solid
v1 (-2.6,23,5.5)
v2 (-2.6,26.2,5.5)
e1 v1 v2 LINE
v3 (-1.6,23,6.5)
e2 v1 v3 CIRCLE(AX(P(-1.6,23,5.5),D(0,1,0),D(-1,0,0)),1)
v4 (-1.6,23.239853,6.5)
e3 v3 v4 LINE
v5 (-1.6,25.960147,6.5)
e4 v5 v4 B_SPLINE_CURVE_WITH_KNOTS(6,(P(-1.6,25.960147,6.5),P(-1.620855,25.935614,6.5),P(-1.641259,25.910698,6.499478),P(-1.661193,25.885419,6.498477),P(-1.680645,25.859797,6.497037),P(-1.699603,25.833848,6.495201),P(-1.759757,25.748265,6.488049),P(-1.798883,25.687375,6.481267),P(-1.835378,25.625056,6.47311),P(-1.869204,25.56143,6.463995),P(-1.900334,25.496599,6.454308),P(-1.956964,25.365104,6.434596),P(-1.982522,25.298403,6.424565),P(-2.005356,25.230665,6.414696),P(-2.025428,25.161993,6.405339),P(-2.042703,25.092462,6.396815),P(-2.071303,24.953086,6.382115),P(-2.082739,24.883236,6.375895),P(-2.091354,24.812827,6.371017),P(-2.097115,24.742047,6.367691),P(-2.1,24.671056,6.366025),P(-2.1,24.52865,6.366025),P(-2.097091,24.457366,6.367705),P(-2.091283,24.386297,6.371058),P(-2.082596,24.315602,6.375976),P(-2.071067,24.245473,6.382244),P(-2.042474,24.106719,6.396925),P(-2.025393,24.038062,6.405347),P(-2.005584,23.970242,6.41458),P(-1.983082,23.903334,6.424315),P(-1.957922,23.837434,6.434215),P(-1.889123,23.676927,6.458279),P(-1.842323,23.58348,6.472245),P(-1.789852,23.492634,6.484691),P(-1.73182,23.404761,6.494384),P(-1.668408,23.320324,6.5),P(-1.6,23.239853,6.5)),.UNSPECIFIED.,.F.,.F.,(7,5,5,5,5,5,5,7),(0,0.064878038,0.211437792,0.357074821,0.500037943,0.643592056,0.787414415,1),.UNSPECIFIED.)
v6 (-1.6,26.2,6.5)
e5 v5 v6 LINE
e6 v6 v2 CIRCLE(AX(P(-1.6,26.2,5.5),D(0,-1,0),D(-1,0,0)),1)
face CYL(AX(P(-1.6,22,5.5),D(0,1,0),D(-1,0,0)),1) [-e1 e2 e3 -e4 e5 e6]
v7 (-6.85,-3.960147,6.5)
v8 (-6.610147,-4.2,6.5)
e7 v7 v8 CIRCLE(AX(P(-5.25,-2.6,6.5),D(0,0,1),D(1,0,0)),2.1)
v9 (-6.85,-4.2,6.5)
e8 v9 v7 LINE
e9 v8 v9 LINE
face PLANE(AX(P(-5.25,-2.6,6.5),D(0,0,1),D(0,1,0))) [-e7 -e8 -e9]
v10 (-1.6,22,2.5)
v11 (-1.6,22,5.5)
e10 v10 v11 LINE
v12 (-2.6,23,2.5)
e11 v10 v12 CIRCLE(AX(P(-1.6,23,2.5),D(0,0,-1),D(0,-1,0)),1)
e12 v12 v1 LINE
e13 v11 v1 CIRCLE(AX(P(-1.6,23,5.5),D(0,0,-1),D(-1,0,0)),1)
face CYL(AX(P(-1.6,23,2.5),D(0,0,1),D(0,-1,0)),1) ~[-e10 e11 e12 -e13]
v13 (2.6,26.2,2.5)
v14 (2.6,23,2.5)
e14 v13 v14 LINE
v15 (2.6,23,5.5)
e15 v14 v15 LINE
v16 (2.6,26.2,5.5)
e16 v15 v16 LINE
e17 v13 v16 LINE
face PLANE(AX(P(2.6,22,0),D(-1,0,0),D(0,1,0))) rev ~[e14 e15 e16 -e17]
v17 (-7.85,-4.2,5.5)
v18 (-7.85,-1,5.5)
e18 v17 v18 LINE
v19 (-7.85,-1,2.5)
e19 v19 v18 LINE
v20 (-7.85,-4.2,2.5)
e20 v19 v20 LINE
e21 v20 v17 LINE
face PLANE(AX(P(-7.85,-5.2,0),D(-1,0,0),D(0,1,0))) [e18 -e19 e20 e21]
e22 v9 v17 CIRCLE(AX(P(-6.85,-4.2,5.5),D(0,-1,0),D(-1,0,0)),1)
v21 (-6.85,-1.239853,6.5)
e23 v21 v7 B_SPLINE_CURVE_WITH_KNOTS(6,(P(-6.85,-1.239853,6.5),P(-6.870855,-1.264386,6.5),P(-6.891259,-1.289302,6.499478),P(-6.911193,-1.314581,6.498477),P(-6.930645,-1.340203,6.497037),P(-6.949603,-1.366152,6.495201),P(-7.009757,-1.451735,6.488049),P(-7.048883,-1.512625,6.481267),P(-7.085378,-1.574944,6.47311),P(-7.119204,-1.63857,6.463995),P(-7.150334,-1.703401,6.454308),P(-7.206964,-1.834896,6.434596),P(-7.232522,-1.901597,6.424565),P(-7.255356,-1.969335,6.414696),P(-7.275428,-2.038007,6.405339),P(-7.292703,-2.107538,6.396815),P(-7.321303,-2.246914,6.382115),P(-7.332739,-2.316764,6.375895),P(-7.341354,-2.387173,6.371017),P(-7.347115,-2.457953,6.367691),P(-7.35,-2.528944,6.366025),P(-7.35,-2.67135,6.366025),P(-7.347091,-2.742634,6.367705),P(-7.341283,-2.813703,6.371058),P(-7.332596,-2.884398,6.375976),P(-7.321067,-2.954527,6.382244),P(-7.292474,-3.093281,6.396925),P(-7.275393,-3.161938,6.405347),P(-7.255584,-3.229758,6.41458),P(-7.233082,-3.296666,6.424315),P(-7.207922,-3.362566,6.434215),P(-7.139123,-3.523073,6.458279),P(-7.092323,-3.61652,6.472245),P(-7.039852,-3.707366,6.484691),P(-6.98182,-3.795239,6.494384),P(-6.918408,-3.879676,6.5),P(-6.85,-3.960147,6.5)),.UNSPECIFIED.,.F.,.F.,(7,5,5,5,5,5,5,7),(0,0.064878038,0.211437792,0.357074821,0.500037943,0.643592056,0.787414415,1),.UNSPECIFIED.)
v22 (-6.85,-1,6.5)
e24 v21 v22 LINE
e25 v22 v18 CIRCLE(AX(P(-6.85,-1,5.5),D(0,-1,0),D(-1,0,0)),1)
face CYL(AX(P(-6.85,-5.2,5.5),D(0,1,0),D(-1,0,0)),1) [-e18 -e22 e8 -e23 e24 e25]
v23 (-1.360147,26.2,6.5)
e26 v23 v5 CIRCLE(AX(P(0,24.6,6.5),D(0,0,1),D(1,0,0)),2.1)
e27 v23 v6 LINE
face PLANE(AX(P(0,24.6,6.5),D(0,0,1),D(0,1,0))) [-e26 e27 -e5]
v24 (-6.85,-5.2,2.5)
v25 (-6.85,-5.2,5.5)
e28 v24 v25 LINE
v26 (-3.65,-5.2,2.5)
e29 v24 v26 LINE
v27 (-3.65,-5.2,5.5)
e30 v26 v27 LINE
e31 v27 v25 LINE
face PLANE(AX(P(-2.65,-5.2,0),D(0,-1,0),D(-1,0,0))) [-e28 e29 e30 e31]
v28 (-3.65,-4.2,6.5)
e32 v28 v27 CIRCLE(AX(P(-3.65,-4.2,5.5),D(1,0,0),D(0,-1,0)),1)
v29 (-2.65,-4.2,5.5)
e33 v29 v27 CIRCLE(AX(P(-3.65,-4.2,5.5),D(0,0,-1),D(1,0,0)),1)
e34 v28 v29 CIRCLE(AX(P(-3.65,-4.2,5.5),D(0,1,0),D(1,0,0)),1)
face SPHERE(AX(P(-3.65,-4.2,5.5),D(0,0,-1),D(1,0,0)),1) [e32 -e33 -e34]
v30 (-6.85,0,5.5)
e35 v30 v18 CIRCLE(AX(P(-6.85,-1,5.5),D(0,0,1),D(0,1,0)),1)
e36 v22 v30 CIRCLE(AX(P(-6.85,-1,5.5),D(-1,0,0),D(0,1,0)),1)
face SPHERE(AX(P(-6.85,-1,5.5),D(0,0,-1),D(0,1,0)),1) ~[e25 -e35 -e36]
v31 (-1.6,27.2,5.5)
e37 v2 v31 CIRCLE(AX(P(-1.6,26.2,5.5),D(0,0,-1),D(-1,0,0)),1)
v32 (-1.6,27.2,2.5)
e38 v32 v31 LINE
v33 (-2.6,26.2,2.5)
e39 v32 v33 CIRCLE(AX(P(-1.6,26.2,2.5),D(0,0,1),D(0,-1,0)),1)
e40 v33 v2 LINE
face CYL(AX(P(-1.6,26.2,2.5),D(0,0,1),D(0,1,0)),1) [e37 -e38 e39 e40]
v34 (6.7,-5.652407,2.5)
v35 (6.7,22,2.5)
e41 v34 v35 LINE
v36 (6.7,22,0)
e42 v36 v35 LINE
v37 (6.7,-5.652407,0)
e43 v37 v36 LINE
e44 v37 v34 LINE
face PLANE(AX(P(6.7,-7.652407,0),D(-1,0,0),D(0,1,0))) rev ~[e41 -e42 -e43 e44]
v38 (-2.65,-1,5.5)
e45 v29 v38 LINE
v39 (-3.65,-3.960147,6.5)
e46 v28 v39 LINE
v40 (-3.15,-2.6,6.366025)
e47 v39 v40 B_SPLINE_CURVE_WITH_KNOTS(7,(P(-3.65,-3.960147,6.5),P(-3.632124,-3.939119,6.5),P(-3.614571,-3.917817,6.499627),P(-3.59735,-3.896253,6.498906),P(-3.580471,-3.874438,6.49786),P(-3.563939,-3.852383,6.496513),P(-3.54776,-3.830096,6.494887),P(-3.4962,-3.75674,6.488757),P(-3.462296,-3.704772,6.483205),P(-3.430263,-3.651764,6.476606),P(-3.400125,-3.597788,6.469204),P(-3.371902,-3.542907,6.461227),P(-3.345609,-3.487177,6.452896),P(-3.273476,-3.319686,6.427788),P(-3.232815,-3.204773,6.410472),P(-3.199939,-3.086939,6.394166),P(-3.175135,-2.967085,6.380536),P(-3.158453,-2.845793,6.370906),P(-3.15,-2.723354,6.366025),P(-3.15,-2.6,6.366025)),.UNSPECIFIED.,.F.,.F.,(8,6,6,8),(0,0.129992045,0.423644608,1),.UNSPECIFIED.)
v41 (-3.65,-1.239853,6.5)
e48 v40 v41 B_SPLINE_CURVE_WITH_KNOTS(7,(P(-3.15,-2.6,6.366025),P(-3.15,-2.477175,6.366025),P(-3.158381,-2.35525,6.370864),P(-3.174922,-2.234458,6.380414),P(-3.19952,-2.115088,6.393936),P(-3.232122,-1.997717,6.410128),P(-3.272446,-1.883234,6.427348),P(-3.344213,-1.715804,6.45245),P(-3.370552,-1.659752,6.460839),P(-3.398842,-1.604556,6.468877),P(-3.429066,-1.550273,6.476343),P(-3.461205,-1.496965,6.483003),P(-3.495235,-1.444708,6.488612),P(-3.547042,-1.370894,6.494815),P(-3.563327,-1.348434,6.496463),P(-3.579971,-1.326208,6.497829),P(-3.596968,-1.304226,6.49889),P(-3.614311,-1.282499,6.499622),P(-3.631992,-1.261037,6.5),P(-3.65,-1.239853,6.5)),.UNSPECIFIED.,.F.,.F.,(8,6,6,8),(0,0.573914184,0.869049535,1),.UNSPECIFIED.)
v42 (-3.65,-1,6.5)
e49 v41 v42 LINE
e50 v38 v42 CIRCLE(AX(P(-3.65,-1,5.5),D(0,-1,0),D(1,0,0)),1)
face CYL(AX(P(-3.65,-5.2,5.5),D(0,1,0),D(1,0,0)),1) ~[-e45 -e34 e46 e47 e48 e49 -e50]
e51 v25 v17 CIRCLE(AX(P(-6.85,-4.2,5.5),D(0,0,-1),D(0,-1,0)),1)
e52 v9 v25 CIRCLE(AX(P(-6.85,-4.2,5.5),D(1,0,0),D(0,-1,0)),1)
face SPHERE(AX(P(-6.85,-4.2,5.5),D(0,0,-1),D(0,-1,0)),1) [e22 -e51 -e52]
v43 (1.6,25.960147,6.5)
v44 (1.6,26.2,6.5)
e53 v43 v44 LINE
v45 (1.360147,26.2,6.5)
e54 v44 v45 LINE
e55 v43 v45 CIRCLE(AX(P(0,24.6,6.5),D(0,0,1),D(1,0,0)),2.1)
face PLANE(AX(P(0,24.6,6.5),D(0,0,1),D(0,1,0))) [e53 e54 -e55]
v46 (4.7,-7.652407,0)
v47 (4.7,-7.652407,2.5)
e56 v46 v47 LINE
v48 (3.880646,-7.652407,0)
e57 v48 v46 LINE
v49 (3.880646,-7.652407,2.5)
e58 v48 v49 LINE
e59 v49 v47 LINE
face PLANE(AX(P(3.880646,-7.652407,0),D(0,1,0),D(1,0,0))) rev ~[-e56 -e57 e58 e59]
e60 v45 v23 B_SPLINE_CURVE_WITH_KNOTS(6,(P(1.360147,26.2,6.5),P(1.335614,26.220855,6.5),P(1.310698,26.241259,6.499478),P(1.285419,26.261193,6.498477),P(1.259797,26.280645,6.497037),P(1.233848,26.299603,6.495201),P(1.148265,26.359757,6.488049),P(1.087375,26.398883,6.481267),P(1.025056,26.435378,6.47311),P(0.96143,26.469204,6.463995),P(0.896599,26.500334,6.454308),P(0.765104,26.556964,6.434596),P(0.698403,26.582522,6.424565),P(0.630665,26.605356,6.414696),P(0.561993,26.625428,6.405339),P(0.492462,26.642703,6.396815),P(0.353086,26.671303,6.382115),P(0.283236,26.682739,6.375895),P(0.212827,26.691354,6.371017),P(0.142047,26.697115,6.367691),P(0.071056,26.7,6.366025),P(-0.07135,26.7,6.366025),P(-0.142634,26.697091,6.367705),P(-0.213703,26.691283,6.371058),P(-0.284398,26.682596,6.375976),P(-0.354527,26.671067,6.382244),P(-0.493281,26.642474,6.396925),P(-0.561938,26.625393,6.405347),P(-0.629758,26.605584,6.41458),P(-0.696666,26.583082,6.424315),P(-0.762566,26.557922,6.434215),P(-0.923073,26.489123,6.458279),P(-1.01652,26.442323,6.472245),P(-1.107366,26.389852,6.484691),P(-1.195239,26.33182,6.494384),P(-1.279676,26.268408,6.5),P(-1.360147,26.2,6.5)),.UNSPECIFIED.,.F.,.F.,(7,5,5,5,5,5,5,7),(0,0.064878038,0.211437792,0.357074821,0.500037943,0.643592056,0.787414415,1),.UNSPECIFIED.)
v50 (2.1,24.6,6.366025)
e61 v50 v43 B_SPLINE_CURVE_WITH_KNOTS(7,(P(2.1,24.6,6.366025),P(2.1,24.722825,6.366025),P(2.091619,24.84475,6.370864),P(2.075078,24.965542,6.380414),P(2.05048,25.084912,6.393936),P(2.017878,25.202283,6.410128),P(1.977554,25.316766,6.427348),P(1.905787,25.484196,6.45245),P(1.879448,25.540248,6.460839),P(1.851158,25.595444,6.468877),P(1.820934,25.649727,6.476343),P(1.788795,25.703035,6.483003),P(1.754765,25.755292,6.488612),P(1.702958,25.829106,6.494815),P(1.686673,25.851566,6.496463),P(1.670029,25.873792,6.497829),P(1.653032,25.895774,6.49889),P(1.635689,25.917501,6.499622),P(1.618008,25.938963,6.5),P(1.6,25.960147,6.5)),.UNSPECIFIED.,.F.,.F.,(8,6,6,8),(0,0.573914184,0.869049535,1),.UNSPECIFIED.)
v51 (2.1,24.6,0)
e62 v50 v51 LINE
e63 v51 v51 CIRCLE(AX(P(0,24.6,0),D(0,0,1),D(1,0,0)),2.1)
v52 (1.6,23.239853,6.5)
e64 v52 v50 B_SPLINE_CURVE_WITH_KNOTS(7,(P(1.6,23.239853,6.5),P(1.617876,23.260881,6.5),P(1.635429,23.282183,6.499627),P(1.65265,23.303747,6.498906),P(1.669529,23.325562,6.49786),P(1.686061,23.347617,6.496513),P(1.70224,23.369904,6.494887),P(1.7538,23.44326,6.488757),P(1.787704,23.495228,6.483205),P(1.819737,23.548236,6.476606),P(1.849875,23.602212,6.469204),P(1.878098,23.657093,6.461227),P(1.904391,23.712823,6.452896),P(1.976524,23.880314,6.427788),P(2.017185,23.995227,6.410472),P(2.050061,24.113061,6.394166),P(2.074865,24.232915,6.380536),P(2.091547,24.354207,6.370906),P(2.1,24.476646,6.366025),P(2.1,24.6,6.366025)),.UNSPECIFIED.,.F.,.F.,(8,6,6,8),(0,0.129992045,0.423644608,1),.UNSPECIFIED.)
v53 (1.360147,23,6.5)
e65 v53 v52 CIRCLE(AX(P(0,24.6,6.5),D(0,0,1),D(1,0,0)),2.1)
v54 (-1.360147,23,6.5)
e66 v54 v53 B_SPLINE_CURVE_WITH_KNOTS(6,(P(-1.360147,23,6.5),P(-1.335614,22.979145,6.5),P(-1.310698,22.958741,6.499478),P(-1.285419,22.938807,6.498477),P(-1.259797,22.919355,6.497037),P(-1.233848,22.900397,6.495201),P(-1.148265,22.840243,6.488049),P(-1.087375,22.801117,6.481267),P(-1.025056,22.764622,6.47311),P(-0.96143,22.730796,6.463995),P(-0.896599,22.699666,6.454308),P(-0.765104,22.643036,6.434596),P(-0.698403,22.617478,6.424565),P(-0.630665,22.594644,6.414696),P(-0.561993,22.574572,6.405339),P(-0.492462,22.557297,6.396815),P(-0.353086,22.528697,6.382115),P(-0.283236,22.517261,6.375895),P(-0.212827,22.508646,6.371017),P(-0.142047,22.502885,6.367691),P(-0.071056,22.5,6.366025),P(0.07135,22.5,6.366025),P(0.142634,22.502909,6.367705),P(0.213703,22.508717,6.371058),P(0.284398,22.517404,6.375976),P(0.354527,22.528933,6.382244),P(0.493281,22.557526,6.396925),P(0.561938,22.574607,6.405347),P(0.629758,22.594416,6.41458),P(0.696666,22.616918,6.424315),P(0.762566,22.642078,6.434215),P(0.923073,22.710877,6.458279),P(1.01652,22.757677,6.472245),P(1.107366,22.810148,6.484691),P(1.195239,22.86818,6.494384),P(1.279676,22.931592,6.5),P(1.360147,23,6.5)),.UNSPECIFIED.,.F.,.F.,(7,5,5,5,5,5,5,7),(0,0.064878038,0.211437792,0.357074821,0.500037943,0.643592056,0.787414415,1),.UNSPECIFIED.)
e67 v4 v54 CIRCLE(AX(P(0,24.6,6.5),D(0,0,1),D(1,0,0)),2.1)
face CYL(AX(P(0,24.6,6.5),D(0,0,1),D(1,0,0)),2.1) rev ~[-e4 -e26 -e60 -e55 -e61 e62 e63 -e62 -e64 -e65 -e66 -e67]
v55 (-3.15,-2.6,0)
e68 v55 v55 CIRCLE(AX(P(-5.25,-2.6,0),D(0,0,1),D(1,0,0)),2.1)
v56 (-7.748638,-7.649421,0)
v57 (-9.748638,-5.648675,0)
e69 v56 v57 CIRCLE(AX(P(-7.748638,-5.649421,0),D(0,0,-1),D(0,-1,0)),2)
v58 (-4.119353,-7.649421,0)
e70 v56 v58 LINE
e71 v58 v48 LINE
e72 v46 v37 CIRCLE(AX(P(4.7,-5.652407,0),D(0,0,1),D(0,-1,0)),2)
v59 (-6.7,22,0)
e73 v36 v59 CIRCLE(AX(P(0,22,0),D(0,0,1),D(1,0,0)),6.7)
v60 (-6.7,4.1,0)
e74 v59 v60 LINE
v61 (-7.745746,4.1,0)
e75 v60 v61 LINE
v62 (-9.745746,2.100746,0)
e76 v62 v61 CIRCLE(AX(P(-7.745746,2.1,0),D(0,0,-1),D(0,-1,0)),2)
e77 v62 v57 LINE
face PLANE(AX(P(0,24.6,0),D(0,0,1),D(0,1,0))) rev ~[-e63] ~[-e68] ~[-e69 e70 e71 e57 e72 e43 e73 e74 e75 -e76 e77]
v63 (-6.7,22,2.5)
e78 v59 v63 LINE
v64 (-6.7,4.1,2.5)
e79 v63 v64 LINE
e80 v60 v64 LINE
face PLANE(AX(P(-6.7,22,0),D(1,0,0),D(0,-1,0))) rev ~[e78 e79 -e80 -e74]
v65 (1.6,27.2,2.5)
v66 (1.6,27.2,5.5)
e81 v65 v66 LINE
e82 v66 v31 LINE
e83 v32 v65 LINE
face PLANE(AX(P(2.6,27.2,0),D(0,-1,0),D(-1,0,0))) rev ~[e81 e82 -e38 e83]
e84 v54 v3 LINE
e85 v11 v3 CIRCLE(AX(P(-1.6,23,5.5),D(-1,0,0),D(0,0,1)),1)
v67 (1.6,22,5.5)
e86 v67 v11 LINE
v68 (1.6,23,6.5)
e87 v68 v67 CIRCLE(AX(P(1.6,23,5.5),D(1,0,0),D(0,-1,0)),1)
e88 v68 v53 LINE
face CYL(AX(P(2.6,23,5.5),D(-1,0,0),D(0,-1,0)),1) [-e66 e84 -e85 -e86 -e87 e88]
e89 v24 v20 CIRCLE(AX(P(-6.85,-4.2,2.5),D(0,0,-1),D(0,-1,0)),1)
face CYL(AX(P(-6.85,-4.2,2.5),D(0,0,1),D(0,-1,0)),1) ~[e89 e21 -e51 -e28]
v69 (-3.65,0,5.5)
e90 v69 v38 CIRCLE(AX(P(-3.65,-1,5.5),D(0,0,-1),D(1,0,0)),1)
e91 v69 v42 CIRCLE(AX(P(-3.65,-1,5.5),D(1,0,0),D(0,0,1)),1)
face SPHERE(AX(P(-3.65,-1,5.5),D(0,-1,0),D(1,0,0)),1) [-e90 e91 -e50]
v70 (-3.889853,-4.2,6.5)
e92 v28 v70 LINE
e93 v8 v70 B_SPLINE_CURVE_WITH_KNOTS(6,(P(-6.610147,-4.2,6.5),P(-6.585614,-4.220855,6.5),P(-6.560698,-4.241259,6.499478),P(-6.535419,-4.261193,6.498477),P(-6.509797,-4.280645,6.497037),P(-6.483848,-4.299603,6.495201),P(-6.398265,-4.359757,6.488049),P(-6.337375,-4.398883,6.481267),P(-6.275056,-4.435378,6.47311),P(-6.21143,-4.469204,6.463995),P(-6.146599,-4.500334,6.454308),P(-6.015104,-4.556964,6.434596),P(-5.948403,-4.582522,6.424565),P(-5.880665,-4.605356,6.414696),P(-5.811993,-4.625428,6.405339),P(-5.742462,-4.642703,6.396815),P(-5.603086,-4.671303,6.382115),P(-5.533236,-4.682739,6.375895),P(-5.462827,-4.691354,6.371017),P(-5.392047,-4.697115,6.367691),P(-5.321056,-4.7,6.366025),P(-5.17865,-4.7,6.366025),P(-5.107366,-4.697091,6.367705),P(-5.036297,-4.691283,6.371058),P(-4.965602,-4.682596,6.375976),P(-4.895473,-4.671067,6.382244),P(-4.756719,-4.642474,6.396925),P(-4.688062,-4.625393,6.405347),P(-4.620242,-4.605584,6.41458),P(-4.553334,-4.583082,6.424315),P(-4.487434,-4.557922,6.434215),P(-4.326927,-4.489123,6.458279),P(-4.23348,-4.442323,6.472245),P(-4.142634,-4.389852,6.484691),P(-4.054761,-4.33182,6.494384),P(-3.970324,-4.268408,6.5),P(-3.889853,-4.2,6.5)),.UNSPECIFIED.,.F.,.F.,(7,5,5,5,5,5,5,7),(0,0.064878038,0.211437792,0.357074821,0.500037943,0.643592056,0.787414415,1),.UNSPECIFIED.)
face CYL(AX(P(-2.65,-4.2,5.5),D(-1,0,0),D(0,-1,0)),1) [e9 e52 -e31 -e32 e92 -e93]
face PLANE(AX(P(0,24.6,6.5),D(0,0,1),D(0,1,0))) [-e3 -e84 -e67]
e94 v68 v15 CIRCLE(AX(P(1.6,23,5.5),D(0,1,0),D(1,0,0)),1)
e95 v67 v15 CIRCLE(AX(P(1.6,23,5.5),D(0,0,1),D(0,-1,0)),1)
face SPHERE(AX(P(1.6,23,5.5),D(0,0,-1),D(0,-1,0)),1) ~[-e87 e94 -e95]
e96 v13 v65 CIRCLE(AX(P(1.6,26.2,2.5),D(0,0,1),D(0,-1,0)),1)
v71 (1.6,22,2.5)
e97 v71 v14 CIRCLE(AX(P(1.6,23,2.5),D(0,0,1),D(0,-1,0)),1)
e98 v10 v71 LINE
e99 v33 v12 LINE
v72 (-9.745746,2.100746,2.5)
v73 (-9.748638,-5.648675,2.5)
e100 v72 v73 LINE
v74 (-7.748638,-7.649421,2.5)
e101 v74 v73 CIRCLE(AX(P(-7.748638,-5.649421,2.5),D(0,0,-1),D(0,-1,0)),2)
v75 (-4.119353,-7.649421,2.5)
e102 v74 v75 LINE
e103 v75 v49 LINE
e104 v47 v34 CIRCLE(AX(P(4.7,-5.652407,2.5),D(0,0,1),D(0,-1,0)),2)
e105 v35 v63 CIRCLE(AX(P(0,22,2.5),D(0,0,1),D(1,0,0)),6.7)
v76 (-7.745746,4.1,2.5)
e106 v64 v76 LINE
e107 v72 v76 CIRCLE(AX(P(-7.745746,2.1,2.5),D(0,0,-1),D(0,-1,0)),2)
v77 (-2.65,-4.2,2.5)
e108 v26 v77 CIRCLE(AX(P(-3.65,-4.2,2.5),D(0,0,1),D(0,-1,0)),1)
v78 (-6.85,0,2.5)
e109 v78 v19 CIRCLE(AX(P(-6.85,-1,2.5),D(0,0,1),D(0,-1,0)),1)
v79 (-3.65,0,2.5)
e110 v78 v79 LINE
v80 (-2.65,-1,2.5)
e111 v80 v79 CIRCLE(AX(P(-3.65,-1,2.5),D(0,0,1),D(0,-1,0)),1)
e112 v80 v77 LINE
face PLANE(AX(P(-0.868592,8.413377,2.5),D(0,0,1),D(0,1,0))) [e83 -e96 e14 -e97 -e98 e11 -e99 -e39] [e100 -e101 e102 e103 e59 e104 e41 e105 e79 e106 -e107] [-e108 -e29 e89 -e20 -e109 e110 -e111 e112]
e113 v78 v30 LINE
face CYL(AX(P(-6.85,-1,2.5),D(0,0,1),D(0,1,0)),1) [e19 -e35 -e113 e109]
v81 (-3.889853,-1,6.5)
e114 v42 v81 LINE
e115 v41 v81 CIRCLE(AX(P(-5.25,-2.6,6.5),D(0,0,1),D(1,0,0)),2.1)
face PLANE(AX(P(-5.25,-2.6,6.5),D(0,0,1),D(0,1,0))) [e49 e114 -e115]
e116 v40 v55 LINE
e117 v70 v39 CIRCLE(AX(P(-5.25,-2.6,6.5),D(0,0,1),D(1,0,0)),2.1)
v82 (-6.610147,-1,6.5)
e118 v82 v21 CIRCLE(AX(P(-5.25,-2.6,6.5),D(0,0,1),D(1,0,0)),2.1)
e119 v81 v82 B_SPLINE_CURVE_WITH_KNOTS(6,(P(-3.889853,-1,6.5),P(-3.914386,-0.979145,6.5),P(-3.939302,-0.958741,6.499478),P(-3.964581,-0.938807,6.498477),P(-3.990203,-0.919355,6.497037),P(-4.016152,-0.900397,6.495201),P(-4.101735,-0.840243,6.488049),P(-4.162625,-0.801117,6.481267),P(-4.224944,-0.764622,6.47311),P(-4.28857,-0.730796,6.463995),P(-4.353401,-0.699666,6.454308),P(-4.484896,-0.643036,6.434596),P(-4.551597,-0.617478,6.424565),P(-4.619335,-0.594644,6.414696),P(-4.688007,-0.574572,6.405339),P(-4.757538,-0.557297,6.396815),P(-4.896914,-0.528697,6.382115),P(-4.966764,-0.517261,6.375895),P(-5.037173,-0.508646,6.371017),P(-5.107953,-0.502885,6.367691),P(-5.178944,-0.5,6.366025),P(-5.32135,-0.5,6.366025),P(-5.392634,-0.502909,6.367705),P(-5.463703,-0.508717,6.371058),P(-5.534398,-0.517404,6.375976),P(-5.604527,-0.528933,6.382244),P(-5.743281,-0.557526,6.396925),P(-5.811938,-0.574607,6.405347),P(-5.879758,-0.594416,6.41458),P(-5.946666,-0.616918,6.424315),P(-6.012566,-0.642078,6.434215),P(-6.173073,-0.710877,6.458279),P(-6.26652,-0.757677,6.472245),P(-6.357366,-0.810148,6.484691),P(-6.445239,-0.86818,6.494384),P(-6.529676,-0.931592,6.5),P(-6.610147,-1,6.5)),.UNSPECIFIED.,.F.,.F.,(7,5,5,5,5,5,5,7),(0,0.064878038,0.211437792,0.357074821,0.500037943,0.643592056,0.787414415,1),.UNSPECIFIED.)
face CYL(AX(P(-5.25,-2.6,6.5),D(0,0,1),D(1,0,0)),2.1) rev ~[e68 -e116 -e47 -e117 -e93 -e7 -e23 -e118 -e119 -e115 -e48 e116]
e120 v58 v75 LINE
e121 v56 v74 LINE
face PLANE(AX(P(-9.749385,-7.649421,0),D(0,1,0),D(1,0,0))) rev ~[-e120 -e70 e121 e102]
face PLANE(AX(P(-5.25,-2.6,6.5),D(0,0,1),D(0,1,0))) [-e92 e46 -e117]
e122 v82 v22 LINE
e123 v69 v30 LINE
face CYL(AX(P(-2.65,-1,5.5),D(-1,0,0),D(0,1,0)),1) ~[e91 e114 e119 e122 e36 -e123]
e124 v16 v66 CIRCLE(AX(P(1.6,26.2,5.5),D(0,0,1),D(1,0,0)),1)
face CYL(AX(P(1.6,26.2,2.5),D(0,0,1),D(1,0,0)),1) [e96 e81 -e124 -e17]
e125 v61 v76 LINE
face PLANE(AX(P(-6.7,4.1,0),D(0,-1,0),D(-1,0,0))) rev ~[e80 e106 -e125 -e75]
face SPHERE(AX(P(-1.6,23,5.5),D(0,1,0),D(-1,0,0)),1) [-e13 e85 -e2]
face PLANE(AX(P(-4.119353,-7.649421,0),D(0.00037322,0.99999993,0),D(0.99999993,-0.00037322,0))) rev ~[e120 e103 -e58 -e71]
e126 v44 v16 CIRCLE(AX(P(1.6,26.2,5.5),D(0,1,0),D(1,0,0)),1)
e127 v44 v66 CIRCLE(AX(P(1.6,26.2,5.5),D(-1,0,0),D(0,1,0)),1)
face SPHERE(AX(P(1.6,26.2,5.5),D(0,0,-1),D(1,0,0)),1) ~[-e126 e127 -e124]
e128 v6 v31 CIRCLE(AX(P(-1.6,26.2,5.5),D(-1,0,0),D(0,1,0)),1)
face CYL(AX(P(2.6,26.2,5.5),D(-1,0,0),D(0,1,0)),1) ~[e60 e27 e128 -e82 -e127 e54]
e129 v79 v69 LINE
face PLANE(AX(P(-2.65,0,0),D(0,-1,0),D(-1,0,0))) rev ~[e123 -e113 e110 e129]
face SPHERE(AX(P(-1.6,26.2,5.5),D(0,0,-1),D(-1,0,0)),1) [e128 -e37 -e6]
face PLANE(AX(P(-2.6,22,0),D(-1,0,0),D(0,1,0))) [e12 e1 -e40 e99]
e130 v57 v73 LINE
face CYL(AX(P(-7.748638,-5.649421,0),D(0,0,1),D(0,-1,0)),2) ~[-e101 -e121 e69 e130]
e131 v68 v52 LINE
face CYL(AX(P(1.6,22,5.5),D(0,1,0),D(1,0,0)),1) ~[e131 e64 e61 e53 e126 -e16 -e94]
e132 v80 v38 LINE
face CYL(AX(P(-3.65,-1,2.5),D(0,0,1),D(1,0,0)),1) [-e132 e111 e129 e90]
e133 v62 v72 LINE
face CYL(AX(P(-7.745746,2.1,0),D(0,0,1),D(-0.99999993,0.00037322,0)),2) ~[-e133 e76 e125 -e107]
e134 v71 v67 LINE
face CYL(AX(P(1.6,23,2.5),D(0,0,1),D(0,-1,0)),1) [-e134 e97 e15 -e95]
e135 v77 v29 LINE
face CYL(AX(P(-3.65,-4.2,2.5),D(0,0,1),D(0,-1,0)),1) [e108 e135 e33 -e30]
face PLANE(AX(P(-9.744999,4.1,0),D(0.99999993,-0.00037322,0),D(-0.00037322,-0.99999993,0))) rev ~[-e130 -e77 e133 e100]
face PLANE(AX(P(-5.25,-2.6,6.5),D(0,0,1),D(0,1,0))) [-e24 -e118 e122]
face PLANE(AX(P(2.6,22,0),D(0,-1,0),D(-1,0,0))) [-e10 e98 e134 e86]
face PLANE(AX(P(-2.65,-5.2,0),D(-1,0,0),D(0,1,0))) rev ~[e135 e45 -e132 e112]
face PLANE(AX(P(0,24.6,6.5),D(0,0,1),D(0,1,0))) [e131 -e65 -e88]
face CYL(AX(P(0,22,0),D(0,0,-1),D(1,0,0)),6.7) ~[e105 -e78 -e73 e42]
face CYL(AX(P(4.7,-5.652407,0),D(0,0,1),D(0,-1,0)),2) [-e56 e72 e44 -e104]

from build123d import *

# Parameters (mm, degrees)
BOSS_EXTRUDE1_DEPTH = 2.5
SKETCH1_3_W         = 5.2
SKETCH1_3_H         = 5.2
BOSS_EXTRUDE2_DEPTH = 6.5
FILLET1_R           = 2
FILLET2_R           = 1
SKETCH2_R           = 2.1
CUT_EXTRUDE1_DEPTH  = 7.5


with BuildPart() as part:
    # Sketch1 → Boss-Extrude1 (new body)
    with BuildSketch(Plane(origin=(0, 0, 0), x_dir=(0, 1, 0), z_dir=(0, 0, 1))):
        with BuildLine():
            Line((-7.649421348, 9.749384529), (-7.649421348, 4.119353309))
            Line((-7.649421348, 4.119353309), (-7.652407104, -3.880646133))
            Line((-7.652407104, -3.880646133), (-7.652407104, -6.7))
            Line((-7.652407104, -6.7), (22, -6.7))
            ThreePointArc((22, -6.7), (28.7, 0), (22, 6.7))
            Line((22, 6.7), (4.1, 6.7))
            Line((4.1, 6.7), (4.1, 9.744999415))
            Line((4.1, 9.744999415), (-7.649421348, 9.749384529))
        make_face()
    extrude(amount=BOSS_EXTRUDE1_DEPTH)

    # Sketch1<3> → Boss-Extrude2 (add)
    with BuildSketch(Plane(origin=(0, 0, 0), x_dir=(0, 1, 0), z_dir=(0, 0, 1))):
        with Locations((24.6, 0)):
            Rectangle(SKETCH1_3_W, SKETCH1_3_H)
        with Locations((-2.6, 5.25)):
            Rectangle(SKETCH1_3_W, SKETCH1_3_H)
    extrude(amount=BOSS_EXTRUDE2_DEPTH)

    # Fillet1
    fillet1_edges = [part.edges().sort_by_distance(p)[0] for p in [
        (6.7, -7.652407104, 1.25),
        (-9.749384529, -7.649421348, 1.25),
        (-9.744999415, 4.1, 1.25),
    ]]
    fillet(fillet1_edges, radius=FILLET1_R)

    # Fillet2
    fillet2_edges = [part.edges().sort_by_distance(p)[0] for p in [
        (-2.65, -5.2, 4.5),
        (-2.65, -2.6, 6.5),
        (-2.65, 0, 4.5),
        (-7.85, 0, 4.5),
        (-7.85, -5.2, 4.5),
        (-5.25, -5.2, 6.5),
        (-5.25, 0, 6.5),
        (-7.85, -2.6, 6.5),
        (2.6, 22, 4.5),
        (2.6, 27.2, 4.5),
        (-2.6, 27.2, 4.5),
        (-2.6, 24.6, 6.5),
        (-2.6, 22, 4.5),
        (0, 22, 6.5),
        (2.6, 24.6, 6.5),
        (0, 27.2, 6.5),
    ]]
    fillet(fillet2_edges, radius=FILLET2_R)

    # Sketch2 → Cut-Extrude1 (cut)
    with BuildSketch(Plane.XY.offset(6.5)):
        with Locations((-5.25, -2.6)):
            Circle(SKETCH2_R)
        with Locations((0, 24.6)):
            Circle(SKETCH2_R)
    extrude(amount=-CUT_EXTRUDE1_DEPTH, mode=Mode.SUBTRACT)


solid = part.part
